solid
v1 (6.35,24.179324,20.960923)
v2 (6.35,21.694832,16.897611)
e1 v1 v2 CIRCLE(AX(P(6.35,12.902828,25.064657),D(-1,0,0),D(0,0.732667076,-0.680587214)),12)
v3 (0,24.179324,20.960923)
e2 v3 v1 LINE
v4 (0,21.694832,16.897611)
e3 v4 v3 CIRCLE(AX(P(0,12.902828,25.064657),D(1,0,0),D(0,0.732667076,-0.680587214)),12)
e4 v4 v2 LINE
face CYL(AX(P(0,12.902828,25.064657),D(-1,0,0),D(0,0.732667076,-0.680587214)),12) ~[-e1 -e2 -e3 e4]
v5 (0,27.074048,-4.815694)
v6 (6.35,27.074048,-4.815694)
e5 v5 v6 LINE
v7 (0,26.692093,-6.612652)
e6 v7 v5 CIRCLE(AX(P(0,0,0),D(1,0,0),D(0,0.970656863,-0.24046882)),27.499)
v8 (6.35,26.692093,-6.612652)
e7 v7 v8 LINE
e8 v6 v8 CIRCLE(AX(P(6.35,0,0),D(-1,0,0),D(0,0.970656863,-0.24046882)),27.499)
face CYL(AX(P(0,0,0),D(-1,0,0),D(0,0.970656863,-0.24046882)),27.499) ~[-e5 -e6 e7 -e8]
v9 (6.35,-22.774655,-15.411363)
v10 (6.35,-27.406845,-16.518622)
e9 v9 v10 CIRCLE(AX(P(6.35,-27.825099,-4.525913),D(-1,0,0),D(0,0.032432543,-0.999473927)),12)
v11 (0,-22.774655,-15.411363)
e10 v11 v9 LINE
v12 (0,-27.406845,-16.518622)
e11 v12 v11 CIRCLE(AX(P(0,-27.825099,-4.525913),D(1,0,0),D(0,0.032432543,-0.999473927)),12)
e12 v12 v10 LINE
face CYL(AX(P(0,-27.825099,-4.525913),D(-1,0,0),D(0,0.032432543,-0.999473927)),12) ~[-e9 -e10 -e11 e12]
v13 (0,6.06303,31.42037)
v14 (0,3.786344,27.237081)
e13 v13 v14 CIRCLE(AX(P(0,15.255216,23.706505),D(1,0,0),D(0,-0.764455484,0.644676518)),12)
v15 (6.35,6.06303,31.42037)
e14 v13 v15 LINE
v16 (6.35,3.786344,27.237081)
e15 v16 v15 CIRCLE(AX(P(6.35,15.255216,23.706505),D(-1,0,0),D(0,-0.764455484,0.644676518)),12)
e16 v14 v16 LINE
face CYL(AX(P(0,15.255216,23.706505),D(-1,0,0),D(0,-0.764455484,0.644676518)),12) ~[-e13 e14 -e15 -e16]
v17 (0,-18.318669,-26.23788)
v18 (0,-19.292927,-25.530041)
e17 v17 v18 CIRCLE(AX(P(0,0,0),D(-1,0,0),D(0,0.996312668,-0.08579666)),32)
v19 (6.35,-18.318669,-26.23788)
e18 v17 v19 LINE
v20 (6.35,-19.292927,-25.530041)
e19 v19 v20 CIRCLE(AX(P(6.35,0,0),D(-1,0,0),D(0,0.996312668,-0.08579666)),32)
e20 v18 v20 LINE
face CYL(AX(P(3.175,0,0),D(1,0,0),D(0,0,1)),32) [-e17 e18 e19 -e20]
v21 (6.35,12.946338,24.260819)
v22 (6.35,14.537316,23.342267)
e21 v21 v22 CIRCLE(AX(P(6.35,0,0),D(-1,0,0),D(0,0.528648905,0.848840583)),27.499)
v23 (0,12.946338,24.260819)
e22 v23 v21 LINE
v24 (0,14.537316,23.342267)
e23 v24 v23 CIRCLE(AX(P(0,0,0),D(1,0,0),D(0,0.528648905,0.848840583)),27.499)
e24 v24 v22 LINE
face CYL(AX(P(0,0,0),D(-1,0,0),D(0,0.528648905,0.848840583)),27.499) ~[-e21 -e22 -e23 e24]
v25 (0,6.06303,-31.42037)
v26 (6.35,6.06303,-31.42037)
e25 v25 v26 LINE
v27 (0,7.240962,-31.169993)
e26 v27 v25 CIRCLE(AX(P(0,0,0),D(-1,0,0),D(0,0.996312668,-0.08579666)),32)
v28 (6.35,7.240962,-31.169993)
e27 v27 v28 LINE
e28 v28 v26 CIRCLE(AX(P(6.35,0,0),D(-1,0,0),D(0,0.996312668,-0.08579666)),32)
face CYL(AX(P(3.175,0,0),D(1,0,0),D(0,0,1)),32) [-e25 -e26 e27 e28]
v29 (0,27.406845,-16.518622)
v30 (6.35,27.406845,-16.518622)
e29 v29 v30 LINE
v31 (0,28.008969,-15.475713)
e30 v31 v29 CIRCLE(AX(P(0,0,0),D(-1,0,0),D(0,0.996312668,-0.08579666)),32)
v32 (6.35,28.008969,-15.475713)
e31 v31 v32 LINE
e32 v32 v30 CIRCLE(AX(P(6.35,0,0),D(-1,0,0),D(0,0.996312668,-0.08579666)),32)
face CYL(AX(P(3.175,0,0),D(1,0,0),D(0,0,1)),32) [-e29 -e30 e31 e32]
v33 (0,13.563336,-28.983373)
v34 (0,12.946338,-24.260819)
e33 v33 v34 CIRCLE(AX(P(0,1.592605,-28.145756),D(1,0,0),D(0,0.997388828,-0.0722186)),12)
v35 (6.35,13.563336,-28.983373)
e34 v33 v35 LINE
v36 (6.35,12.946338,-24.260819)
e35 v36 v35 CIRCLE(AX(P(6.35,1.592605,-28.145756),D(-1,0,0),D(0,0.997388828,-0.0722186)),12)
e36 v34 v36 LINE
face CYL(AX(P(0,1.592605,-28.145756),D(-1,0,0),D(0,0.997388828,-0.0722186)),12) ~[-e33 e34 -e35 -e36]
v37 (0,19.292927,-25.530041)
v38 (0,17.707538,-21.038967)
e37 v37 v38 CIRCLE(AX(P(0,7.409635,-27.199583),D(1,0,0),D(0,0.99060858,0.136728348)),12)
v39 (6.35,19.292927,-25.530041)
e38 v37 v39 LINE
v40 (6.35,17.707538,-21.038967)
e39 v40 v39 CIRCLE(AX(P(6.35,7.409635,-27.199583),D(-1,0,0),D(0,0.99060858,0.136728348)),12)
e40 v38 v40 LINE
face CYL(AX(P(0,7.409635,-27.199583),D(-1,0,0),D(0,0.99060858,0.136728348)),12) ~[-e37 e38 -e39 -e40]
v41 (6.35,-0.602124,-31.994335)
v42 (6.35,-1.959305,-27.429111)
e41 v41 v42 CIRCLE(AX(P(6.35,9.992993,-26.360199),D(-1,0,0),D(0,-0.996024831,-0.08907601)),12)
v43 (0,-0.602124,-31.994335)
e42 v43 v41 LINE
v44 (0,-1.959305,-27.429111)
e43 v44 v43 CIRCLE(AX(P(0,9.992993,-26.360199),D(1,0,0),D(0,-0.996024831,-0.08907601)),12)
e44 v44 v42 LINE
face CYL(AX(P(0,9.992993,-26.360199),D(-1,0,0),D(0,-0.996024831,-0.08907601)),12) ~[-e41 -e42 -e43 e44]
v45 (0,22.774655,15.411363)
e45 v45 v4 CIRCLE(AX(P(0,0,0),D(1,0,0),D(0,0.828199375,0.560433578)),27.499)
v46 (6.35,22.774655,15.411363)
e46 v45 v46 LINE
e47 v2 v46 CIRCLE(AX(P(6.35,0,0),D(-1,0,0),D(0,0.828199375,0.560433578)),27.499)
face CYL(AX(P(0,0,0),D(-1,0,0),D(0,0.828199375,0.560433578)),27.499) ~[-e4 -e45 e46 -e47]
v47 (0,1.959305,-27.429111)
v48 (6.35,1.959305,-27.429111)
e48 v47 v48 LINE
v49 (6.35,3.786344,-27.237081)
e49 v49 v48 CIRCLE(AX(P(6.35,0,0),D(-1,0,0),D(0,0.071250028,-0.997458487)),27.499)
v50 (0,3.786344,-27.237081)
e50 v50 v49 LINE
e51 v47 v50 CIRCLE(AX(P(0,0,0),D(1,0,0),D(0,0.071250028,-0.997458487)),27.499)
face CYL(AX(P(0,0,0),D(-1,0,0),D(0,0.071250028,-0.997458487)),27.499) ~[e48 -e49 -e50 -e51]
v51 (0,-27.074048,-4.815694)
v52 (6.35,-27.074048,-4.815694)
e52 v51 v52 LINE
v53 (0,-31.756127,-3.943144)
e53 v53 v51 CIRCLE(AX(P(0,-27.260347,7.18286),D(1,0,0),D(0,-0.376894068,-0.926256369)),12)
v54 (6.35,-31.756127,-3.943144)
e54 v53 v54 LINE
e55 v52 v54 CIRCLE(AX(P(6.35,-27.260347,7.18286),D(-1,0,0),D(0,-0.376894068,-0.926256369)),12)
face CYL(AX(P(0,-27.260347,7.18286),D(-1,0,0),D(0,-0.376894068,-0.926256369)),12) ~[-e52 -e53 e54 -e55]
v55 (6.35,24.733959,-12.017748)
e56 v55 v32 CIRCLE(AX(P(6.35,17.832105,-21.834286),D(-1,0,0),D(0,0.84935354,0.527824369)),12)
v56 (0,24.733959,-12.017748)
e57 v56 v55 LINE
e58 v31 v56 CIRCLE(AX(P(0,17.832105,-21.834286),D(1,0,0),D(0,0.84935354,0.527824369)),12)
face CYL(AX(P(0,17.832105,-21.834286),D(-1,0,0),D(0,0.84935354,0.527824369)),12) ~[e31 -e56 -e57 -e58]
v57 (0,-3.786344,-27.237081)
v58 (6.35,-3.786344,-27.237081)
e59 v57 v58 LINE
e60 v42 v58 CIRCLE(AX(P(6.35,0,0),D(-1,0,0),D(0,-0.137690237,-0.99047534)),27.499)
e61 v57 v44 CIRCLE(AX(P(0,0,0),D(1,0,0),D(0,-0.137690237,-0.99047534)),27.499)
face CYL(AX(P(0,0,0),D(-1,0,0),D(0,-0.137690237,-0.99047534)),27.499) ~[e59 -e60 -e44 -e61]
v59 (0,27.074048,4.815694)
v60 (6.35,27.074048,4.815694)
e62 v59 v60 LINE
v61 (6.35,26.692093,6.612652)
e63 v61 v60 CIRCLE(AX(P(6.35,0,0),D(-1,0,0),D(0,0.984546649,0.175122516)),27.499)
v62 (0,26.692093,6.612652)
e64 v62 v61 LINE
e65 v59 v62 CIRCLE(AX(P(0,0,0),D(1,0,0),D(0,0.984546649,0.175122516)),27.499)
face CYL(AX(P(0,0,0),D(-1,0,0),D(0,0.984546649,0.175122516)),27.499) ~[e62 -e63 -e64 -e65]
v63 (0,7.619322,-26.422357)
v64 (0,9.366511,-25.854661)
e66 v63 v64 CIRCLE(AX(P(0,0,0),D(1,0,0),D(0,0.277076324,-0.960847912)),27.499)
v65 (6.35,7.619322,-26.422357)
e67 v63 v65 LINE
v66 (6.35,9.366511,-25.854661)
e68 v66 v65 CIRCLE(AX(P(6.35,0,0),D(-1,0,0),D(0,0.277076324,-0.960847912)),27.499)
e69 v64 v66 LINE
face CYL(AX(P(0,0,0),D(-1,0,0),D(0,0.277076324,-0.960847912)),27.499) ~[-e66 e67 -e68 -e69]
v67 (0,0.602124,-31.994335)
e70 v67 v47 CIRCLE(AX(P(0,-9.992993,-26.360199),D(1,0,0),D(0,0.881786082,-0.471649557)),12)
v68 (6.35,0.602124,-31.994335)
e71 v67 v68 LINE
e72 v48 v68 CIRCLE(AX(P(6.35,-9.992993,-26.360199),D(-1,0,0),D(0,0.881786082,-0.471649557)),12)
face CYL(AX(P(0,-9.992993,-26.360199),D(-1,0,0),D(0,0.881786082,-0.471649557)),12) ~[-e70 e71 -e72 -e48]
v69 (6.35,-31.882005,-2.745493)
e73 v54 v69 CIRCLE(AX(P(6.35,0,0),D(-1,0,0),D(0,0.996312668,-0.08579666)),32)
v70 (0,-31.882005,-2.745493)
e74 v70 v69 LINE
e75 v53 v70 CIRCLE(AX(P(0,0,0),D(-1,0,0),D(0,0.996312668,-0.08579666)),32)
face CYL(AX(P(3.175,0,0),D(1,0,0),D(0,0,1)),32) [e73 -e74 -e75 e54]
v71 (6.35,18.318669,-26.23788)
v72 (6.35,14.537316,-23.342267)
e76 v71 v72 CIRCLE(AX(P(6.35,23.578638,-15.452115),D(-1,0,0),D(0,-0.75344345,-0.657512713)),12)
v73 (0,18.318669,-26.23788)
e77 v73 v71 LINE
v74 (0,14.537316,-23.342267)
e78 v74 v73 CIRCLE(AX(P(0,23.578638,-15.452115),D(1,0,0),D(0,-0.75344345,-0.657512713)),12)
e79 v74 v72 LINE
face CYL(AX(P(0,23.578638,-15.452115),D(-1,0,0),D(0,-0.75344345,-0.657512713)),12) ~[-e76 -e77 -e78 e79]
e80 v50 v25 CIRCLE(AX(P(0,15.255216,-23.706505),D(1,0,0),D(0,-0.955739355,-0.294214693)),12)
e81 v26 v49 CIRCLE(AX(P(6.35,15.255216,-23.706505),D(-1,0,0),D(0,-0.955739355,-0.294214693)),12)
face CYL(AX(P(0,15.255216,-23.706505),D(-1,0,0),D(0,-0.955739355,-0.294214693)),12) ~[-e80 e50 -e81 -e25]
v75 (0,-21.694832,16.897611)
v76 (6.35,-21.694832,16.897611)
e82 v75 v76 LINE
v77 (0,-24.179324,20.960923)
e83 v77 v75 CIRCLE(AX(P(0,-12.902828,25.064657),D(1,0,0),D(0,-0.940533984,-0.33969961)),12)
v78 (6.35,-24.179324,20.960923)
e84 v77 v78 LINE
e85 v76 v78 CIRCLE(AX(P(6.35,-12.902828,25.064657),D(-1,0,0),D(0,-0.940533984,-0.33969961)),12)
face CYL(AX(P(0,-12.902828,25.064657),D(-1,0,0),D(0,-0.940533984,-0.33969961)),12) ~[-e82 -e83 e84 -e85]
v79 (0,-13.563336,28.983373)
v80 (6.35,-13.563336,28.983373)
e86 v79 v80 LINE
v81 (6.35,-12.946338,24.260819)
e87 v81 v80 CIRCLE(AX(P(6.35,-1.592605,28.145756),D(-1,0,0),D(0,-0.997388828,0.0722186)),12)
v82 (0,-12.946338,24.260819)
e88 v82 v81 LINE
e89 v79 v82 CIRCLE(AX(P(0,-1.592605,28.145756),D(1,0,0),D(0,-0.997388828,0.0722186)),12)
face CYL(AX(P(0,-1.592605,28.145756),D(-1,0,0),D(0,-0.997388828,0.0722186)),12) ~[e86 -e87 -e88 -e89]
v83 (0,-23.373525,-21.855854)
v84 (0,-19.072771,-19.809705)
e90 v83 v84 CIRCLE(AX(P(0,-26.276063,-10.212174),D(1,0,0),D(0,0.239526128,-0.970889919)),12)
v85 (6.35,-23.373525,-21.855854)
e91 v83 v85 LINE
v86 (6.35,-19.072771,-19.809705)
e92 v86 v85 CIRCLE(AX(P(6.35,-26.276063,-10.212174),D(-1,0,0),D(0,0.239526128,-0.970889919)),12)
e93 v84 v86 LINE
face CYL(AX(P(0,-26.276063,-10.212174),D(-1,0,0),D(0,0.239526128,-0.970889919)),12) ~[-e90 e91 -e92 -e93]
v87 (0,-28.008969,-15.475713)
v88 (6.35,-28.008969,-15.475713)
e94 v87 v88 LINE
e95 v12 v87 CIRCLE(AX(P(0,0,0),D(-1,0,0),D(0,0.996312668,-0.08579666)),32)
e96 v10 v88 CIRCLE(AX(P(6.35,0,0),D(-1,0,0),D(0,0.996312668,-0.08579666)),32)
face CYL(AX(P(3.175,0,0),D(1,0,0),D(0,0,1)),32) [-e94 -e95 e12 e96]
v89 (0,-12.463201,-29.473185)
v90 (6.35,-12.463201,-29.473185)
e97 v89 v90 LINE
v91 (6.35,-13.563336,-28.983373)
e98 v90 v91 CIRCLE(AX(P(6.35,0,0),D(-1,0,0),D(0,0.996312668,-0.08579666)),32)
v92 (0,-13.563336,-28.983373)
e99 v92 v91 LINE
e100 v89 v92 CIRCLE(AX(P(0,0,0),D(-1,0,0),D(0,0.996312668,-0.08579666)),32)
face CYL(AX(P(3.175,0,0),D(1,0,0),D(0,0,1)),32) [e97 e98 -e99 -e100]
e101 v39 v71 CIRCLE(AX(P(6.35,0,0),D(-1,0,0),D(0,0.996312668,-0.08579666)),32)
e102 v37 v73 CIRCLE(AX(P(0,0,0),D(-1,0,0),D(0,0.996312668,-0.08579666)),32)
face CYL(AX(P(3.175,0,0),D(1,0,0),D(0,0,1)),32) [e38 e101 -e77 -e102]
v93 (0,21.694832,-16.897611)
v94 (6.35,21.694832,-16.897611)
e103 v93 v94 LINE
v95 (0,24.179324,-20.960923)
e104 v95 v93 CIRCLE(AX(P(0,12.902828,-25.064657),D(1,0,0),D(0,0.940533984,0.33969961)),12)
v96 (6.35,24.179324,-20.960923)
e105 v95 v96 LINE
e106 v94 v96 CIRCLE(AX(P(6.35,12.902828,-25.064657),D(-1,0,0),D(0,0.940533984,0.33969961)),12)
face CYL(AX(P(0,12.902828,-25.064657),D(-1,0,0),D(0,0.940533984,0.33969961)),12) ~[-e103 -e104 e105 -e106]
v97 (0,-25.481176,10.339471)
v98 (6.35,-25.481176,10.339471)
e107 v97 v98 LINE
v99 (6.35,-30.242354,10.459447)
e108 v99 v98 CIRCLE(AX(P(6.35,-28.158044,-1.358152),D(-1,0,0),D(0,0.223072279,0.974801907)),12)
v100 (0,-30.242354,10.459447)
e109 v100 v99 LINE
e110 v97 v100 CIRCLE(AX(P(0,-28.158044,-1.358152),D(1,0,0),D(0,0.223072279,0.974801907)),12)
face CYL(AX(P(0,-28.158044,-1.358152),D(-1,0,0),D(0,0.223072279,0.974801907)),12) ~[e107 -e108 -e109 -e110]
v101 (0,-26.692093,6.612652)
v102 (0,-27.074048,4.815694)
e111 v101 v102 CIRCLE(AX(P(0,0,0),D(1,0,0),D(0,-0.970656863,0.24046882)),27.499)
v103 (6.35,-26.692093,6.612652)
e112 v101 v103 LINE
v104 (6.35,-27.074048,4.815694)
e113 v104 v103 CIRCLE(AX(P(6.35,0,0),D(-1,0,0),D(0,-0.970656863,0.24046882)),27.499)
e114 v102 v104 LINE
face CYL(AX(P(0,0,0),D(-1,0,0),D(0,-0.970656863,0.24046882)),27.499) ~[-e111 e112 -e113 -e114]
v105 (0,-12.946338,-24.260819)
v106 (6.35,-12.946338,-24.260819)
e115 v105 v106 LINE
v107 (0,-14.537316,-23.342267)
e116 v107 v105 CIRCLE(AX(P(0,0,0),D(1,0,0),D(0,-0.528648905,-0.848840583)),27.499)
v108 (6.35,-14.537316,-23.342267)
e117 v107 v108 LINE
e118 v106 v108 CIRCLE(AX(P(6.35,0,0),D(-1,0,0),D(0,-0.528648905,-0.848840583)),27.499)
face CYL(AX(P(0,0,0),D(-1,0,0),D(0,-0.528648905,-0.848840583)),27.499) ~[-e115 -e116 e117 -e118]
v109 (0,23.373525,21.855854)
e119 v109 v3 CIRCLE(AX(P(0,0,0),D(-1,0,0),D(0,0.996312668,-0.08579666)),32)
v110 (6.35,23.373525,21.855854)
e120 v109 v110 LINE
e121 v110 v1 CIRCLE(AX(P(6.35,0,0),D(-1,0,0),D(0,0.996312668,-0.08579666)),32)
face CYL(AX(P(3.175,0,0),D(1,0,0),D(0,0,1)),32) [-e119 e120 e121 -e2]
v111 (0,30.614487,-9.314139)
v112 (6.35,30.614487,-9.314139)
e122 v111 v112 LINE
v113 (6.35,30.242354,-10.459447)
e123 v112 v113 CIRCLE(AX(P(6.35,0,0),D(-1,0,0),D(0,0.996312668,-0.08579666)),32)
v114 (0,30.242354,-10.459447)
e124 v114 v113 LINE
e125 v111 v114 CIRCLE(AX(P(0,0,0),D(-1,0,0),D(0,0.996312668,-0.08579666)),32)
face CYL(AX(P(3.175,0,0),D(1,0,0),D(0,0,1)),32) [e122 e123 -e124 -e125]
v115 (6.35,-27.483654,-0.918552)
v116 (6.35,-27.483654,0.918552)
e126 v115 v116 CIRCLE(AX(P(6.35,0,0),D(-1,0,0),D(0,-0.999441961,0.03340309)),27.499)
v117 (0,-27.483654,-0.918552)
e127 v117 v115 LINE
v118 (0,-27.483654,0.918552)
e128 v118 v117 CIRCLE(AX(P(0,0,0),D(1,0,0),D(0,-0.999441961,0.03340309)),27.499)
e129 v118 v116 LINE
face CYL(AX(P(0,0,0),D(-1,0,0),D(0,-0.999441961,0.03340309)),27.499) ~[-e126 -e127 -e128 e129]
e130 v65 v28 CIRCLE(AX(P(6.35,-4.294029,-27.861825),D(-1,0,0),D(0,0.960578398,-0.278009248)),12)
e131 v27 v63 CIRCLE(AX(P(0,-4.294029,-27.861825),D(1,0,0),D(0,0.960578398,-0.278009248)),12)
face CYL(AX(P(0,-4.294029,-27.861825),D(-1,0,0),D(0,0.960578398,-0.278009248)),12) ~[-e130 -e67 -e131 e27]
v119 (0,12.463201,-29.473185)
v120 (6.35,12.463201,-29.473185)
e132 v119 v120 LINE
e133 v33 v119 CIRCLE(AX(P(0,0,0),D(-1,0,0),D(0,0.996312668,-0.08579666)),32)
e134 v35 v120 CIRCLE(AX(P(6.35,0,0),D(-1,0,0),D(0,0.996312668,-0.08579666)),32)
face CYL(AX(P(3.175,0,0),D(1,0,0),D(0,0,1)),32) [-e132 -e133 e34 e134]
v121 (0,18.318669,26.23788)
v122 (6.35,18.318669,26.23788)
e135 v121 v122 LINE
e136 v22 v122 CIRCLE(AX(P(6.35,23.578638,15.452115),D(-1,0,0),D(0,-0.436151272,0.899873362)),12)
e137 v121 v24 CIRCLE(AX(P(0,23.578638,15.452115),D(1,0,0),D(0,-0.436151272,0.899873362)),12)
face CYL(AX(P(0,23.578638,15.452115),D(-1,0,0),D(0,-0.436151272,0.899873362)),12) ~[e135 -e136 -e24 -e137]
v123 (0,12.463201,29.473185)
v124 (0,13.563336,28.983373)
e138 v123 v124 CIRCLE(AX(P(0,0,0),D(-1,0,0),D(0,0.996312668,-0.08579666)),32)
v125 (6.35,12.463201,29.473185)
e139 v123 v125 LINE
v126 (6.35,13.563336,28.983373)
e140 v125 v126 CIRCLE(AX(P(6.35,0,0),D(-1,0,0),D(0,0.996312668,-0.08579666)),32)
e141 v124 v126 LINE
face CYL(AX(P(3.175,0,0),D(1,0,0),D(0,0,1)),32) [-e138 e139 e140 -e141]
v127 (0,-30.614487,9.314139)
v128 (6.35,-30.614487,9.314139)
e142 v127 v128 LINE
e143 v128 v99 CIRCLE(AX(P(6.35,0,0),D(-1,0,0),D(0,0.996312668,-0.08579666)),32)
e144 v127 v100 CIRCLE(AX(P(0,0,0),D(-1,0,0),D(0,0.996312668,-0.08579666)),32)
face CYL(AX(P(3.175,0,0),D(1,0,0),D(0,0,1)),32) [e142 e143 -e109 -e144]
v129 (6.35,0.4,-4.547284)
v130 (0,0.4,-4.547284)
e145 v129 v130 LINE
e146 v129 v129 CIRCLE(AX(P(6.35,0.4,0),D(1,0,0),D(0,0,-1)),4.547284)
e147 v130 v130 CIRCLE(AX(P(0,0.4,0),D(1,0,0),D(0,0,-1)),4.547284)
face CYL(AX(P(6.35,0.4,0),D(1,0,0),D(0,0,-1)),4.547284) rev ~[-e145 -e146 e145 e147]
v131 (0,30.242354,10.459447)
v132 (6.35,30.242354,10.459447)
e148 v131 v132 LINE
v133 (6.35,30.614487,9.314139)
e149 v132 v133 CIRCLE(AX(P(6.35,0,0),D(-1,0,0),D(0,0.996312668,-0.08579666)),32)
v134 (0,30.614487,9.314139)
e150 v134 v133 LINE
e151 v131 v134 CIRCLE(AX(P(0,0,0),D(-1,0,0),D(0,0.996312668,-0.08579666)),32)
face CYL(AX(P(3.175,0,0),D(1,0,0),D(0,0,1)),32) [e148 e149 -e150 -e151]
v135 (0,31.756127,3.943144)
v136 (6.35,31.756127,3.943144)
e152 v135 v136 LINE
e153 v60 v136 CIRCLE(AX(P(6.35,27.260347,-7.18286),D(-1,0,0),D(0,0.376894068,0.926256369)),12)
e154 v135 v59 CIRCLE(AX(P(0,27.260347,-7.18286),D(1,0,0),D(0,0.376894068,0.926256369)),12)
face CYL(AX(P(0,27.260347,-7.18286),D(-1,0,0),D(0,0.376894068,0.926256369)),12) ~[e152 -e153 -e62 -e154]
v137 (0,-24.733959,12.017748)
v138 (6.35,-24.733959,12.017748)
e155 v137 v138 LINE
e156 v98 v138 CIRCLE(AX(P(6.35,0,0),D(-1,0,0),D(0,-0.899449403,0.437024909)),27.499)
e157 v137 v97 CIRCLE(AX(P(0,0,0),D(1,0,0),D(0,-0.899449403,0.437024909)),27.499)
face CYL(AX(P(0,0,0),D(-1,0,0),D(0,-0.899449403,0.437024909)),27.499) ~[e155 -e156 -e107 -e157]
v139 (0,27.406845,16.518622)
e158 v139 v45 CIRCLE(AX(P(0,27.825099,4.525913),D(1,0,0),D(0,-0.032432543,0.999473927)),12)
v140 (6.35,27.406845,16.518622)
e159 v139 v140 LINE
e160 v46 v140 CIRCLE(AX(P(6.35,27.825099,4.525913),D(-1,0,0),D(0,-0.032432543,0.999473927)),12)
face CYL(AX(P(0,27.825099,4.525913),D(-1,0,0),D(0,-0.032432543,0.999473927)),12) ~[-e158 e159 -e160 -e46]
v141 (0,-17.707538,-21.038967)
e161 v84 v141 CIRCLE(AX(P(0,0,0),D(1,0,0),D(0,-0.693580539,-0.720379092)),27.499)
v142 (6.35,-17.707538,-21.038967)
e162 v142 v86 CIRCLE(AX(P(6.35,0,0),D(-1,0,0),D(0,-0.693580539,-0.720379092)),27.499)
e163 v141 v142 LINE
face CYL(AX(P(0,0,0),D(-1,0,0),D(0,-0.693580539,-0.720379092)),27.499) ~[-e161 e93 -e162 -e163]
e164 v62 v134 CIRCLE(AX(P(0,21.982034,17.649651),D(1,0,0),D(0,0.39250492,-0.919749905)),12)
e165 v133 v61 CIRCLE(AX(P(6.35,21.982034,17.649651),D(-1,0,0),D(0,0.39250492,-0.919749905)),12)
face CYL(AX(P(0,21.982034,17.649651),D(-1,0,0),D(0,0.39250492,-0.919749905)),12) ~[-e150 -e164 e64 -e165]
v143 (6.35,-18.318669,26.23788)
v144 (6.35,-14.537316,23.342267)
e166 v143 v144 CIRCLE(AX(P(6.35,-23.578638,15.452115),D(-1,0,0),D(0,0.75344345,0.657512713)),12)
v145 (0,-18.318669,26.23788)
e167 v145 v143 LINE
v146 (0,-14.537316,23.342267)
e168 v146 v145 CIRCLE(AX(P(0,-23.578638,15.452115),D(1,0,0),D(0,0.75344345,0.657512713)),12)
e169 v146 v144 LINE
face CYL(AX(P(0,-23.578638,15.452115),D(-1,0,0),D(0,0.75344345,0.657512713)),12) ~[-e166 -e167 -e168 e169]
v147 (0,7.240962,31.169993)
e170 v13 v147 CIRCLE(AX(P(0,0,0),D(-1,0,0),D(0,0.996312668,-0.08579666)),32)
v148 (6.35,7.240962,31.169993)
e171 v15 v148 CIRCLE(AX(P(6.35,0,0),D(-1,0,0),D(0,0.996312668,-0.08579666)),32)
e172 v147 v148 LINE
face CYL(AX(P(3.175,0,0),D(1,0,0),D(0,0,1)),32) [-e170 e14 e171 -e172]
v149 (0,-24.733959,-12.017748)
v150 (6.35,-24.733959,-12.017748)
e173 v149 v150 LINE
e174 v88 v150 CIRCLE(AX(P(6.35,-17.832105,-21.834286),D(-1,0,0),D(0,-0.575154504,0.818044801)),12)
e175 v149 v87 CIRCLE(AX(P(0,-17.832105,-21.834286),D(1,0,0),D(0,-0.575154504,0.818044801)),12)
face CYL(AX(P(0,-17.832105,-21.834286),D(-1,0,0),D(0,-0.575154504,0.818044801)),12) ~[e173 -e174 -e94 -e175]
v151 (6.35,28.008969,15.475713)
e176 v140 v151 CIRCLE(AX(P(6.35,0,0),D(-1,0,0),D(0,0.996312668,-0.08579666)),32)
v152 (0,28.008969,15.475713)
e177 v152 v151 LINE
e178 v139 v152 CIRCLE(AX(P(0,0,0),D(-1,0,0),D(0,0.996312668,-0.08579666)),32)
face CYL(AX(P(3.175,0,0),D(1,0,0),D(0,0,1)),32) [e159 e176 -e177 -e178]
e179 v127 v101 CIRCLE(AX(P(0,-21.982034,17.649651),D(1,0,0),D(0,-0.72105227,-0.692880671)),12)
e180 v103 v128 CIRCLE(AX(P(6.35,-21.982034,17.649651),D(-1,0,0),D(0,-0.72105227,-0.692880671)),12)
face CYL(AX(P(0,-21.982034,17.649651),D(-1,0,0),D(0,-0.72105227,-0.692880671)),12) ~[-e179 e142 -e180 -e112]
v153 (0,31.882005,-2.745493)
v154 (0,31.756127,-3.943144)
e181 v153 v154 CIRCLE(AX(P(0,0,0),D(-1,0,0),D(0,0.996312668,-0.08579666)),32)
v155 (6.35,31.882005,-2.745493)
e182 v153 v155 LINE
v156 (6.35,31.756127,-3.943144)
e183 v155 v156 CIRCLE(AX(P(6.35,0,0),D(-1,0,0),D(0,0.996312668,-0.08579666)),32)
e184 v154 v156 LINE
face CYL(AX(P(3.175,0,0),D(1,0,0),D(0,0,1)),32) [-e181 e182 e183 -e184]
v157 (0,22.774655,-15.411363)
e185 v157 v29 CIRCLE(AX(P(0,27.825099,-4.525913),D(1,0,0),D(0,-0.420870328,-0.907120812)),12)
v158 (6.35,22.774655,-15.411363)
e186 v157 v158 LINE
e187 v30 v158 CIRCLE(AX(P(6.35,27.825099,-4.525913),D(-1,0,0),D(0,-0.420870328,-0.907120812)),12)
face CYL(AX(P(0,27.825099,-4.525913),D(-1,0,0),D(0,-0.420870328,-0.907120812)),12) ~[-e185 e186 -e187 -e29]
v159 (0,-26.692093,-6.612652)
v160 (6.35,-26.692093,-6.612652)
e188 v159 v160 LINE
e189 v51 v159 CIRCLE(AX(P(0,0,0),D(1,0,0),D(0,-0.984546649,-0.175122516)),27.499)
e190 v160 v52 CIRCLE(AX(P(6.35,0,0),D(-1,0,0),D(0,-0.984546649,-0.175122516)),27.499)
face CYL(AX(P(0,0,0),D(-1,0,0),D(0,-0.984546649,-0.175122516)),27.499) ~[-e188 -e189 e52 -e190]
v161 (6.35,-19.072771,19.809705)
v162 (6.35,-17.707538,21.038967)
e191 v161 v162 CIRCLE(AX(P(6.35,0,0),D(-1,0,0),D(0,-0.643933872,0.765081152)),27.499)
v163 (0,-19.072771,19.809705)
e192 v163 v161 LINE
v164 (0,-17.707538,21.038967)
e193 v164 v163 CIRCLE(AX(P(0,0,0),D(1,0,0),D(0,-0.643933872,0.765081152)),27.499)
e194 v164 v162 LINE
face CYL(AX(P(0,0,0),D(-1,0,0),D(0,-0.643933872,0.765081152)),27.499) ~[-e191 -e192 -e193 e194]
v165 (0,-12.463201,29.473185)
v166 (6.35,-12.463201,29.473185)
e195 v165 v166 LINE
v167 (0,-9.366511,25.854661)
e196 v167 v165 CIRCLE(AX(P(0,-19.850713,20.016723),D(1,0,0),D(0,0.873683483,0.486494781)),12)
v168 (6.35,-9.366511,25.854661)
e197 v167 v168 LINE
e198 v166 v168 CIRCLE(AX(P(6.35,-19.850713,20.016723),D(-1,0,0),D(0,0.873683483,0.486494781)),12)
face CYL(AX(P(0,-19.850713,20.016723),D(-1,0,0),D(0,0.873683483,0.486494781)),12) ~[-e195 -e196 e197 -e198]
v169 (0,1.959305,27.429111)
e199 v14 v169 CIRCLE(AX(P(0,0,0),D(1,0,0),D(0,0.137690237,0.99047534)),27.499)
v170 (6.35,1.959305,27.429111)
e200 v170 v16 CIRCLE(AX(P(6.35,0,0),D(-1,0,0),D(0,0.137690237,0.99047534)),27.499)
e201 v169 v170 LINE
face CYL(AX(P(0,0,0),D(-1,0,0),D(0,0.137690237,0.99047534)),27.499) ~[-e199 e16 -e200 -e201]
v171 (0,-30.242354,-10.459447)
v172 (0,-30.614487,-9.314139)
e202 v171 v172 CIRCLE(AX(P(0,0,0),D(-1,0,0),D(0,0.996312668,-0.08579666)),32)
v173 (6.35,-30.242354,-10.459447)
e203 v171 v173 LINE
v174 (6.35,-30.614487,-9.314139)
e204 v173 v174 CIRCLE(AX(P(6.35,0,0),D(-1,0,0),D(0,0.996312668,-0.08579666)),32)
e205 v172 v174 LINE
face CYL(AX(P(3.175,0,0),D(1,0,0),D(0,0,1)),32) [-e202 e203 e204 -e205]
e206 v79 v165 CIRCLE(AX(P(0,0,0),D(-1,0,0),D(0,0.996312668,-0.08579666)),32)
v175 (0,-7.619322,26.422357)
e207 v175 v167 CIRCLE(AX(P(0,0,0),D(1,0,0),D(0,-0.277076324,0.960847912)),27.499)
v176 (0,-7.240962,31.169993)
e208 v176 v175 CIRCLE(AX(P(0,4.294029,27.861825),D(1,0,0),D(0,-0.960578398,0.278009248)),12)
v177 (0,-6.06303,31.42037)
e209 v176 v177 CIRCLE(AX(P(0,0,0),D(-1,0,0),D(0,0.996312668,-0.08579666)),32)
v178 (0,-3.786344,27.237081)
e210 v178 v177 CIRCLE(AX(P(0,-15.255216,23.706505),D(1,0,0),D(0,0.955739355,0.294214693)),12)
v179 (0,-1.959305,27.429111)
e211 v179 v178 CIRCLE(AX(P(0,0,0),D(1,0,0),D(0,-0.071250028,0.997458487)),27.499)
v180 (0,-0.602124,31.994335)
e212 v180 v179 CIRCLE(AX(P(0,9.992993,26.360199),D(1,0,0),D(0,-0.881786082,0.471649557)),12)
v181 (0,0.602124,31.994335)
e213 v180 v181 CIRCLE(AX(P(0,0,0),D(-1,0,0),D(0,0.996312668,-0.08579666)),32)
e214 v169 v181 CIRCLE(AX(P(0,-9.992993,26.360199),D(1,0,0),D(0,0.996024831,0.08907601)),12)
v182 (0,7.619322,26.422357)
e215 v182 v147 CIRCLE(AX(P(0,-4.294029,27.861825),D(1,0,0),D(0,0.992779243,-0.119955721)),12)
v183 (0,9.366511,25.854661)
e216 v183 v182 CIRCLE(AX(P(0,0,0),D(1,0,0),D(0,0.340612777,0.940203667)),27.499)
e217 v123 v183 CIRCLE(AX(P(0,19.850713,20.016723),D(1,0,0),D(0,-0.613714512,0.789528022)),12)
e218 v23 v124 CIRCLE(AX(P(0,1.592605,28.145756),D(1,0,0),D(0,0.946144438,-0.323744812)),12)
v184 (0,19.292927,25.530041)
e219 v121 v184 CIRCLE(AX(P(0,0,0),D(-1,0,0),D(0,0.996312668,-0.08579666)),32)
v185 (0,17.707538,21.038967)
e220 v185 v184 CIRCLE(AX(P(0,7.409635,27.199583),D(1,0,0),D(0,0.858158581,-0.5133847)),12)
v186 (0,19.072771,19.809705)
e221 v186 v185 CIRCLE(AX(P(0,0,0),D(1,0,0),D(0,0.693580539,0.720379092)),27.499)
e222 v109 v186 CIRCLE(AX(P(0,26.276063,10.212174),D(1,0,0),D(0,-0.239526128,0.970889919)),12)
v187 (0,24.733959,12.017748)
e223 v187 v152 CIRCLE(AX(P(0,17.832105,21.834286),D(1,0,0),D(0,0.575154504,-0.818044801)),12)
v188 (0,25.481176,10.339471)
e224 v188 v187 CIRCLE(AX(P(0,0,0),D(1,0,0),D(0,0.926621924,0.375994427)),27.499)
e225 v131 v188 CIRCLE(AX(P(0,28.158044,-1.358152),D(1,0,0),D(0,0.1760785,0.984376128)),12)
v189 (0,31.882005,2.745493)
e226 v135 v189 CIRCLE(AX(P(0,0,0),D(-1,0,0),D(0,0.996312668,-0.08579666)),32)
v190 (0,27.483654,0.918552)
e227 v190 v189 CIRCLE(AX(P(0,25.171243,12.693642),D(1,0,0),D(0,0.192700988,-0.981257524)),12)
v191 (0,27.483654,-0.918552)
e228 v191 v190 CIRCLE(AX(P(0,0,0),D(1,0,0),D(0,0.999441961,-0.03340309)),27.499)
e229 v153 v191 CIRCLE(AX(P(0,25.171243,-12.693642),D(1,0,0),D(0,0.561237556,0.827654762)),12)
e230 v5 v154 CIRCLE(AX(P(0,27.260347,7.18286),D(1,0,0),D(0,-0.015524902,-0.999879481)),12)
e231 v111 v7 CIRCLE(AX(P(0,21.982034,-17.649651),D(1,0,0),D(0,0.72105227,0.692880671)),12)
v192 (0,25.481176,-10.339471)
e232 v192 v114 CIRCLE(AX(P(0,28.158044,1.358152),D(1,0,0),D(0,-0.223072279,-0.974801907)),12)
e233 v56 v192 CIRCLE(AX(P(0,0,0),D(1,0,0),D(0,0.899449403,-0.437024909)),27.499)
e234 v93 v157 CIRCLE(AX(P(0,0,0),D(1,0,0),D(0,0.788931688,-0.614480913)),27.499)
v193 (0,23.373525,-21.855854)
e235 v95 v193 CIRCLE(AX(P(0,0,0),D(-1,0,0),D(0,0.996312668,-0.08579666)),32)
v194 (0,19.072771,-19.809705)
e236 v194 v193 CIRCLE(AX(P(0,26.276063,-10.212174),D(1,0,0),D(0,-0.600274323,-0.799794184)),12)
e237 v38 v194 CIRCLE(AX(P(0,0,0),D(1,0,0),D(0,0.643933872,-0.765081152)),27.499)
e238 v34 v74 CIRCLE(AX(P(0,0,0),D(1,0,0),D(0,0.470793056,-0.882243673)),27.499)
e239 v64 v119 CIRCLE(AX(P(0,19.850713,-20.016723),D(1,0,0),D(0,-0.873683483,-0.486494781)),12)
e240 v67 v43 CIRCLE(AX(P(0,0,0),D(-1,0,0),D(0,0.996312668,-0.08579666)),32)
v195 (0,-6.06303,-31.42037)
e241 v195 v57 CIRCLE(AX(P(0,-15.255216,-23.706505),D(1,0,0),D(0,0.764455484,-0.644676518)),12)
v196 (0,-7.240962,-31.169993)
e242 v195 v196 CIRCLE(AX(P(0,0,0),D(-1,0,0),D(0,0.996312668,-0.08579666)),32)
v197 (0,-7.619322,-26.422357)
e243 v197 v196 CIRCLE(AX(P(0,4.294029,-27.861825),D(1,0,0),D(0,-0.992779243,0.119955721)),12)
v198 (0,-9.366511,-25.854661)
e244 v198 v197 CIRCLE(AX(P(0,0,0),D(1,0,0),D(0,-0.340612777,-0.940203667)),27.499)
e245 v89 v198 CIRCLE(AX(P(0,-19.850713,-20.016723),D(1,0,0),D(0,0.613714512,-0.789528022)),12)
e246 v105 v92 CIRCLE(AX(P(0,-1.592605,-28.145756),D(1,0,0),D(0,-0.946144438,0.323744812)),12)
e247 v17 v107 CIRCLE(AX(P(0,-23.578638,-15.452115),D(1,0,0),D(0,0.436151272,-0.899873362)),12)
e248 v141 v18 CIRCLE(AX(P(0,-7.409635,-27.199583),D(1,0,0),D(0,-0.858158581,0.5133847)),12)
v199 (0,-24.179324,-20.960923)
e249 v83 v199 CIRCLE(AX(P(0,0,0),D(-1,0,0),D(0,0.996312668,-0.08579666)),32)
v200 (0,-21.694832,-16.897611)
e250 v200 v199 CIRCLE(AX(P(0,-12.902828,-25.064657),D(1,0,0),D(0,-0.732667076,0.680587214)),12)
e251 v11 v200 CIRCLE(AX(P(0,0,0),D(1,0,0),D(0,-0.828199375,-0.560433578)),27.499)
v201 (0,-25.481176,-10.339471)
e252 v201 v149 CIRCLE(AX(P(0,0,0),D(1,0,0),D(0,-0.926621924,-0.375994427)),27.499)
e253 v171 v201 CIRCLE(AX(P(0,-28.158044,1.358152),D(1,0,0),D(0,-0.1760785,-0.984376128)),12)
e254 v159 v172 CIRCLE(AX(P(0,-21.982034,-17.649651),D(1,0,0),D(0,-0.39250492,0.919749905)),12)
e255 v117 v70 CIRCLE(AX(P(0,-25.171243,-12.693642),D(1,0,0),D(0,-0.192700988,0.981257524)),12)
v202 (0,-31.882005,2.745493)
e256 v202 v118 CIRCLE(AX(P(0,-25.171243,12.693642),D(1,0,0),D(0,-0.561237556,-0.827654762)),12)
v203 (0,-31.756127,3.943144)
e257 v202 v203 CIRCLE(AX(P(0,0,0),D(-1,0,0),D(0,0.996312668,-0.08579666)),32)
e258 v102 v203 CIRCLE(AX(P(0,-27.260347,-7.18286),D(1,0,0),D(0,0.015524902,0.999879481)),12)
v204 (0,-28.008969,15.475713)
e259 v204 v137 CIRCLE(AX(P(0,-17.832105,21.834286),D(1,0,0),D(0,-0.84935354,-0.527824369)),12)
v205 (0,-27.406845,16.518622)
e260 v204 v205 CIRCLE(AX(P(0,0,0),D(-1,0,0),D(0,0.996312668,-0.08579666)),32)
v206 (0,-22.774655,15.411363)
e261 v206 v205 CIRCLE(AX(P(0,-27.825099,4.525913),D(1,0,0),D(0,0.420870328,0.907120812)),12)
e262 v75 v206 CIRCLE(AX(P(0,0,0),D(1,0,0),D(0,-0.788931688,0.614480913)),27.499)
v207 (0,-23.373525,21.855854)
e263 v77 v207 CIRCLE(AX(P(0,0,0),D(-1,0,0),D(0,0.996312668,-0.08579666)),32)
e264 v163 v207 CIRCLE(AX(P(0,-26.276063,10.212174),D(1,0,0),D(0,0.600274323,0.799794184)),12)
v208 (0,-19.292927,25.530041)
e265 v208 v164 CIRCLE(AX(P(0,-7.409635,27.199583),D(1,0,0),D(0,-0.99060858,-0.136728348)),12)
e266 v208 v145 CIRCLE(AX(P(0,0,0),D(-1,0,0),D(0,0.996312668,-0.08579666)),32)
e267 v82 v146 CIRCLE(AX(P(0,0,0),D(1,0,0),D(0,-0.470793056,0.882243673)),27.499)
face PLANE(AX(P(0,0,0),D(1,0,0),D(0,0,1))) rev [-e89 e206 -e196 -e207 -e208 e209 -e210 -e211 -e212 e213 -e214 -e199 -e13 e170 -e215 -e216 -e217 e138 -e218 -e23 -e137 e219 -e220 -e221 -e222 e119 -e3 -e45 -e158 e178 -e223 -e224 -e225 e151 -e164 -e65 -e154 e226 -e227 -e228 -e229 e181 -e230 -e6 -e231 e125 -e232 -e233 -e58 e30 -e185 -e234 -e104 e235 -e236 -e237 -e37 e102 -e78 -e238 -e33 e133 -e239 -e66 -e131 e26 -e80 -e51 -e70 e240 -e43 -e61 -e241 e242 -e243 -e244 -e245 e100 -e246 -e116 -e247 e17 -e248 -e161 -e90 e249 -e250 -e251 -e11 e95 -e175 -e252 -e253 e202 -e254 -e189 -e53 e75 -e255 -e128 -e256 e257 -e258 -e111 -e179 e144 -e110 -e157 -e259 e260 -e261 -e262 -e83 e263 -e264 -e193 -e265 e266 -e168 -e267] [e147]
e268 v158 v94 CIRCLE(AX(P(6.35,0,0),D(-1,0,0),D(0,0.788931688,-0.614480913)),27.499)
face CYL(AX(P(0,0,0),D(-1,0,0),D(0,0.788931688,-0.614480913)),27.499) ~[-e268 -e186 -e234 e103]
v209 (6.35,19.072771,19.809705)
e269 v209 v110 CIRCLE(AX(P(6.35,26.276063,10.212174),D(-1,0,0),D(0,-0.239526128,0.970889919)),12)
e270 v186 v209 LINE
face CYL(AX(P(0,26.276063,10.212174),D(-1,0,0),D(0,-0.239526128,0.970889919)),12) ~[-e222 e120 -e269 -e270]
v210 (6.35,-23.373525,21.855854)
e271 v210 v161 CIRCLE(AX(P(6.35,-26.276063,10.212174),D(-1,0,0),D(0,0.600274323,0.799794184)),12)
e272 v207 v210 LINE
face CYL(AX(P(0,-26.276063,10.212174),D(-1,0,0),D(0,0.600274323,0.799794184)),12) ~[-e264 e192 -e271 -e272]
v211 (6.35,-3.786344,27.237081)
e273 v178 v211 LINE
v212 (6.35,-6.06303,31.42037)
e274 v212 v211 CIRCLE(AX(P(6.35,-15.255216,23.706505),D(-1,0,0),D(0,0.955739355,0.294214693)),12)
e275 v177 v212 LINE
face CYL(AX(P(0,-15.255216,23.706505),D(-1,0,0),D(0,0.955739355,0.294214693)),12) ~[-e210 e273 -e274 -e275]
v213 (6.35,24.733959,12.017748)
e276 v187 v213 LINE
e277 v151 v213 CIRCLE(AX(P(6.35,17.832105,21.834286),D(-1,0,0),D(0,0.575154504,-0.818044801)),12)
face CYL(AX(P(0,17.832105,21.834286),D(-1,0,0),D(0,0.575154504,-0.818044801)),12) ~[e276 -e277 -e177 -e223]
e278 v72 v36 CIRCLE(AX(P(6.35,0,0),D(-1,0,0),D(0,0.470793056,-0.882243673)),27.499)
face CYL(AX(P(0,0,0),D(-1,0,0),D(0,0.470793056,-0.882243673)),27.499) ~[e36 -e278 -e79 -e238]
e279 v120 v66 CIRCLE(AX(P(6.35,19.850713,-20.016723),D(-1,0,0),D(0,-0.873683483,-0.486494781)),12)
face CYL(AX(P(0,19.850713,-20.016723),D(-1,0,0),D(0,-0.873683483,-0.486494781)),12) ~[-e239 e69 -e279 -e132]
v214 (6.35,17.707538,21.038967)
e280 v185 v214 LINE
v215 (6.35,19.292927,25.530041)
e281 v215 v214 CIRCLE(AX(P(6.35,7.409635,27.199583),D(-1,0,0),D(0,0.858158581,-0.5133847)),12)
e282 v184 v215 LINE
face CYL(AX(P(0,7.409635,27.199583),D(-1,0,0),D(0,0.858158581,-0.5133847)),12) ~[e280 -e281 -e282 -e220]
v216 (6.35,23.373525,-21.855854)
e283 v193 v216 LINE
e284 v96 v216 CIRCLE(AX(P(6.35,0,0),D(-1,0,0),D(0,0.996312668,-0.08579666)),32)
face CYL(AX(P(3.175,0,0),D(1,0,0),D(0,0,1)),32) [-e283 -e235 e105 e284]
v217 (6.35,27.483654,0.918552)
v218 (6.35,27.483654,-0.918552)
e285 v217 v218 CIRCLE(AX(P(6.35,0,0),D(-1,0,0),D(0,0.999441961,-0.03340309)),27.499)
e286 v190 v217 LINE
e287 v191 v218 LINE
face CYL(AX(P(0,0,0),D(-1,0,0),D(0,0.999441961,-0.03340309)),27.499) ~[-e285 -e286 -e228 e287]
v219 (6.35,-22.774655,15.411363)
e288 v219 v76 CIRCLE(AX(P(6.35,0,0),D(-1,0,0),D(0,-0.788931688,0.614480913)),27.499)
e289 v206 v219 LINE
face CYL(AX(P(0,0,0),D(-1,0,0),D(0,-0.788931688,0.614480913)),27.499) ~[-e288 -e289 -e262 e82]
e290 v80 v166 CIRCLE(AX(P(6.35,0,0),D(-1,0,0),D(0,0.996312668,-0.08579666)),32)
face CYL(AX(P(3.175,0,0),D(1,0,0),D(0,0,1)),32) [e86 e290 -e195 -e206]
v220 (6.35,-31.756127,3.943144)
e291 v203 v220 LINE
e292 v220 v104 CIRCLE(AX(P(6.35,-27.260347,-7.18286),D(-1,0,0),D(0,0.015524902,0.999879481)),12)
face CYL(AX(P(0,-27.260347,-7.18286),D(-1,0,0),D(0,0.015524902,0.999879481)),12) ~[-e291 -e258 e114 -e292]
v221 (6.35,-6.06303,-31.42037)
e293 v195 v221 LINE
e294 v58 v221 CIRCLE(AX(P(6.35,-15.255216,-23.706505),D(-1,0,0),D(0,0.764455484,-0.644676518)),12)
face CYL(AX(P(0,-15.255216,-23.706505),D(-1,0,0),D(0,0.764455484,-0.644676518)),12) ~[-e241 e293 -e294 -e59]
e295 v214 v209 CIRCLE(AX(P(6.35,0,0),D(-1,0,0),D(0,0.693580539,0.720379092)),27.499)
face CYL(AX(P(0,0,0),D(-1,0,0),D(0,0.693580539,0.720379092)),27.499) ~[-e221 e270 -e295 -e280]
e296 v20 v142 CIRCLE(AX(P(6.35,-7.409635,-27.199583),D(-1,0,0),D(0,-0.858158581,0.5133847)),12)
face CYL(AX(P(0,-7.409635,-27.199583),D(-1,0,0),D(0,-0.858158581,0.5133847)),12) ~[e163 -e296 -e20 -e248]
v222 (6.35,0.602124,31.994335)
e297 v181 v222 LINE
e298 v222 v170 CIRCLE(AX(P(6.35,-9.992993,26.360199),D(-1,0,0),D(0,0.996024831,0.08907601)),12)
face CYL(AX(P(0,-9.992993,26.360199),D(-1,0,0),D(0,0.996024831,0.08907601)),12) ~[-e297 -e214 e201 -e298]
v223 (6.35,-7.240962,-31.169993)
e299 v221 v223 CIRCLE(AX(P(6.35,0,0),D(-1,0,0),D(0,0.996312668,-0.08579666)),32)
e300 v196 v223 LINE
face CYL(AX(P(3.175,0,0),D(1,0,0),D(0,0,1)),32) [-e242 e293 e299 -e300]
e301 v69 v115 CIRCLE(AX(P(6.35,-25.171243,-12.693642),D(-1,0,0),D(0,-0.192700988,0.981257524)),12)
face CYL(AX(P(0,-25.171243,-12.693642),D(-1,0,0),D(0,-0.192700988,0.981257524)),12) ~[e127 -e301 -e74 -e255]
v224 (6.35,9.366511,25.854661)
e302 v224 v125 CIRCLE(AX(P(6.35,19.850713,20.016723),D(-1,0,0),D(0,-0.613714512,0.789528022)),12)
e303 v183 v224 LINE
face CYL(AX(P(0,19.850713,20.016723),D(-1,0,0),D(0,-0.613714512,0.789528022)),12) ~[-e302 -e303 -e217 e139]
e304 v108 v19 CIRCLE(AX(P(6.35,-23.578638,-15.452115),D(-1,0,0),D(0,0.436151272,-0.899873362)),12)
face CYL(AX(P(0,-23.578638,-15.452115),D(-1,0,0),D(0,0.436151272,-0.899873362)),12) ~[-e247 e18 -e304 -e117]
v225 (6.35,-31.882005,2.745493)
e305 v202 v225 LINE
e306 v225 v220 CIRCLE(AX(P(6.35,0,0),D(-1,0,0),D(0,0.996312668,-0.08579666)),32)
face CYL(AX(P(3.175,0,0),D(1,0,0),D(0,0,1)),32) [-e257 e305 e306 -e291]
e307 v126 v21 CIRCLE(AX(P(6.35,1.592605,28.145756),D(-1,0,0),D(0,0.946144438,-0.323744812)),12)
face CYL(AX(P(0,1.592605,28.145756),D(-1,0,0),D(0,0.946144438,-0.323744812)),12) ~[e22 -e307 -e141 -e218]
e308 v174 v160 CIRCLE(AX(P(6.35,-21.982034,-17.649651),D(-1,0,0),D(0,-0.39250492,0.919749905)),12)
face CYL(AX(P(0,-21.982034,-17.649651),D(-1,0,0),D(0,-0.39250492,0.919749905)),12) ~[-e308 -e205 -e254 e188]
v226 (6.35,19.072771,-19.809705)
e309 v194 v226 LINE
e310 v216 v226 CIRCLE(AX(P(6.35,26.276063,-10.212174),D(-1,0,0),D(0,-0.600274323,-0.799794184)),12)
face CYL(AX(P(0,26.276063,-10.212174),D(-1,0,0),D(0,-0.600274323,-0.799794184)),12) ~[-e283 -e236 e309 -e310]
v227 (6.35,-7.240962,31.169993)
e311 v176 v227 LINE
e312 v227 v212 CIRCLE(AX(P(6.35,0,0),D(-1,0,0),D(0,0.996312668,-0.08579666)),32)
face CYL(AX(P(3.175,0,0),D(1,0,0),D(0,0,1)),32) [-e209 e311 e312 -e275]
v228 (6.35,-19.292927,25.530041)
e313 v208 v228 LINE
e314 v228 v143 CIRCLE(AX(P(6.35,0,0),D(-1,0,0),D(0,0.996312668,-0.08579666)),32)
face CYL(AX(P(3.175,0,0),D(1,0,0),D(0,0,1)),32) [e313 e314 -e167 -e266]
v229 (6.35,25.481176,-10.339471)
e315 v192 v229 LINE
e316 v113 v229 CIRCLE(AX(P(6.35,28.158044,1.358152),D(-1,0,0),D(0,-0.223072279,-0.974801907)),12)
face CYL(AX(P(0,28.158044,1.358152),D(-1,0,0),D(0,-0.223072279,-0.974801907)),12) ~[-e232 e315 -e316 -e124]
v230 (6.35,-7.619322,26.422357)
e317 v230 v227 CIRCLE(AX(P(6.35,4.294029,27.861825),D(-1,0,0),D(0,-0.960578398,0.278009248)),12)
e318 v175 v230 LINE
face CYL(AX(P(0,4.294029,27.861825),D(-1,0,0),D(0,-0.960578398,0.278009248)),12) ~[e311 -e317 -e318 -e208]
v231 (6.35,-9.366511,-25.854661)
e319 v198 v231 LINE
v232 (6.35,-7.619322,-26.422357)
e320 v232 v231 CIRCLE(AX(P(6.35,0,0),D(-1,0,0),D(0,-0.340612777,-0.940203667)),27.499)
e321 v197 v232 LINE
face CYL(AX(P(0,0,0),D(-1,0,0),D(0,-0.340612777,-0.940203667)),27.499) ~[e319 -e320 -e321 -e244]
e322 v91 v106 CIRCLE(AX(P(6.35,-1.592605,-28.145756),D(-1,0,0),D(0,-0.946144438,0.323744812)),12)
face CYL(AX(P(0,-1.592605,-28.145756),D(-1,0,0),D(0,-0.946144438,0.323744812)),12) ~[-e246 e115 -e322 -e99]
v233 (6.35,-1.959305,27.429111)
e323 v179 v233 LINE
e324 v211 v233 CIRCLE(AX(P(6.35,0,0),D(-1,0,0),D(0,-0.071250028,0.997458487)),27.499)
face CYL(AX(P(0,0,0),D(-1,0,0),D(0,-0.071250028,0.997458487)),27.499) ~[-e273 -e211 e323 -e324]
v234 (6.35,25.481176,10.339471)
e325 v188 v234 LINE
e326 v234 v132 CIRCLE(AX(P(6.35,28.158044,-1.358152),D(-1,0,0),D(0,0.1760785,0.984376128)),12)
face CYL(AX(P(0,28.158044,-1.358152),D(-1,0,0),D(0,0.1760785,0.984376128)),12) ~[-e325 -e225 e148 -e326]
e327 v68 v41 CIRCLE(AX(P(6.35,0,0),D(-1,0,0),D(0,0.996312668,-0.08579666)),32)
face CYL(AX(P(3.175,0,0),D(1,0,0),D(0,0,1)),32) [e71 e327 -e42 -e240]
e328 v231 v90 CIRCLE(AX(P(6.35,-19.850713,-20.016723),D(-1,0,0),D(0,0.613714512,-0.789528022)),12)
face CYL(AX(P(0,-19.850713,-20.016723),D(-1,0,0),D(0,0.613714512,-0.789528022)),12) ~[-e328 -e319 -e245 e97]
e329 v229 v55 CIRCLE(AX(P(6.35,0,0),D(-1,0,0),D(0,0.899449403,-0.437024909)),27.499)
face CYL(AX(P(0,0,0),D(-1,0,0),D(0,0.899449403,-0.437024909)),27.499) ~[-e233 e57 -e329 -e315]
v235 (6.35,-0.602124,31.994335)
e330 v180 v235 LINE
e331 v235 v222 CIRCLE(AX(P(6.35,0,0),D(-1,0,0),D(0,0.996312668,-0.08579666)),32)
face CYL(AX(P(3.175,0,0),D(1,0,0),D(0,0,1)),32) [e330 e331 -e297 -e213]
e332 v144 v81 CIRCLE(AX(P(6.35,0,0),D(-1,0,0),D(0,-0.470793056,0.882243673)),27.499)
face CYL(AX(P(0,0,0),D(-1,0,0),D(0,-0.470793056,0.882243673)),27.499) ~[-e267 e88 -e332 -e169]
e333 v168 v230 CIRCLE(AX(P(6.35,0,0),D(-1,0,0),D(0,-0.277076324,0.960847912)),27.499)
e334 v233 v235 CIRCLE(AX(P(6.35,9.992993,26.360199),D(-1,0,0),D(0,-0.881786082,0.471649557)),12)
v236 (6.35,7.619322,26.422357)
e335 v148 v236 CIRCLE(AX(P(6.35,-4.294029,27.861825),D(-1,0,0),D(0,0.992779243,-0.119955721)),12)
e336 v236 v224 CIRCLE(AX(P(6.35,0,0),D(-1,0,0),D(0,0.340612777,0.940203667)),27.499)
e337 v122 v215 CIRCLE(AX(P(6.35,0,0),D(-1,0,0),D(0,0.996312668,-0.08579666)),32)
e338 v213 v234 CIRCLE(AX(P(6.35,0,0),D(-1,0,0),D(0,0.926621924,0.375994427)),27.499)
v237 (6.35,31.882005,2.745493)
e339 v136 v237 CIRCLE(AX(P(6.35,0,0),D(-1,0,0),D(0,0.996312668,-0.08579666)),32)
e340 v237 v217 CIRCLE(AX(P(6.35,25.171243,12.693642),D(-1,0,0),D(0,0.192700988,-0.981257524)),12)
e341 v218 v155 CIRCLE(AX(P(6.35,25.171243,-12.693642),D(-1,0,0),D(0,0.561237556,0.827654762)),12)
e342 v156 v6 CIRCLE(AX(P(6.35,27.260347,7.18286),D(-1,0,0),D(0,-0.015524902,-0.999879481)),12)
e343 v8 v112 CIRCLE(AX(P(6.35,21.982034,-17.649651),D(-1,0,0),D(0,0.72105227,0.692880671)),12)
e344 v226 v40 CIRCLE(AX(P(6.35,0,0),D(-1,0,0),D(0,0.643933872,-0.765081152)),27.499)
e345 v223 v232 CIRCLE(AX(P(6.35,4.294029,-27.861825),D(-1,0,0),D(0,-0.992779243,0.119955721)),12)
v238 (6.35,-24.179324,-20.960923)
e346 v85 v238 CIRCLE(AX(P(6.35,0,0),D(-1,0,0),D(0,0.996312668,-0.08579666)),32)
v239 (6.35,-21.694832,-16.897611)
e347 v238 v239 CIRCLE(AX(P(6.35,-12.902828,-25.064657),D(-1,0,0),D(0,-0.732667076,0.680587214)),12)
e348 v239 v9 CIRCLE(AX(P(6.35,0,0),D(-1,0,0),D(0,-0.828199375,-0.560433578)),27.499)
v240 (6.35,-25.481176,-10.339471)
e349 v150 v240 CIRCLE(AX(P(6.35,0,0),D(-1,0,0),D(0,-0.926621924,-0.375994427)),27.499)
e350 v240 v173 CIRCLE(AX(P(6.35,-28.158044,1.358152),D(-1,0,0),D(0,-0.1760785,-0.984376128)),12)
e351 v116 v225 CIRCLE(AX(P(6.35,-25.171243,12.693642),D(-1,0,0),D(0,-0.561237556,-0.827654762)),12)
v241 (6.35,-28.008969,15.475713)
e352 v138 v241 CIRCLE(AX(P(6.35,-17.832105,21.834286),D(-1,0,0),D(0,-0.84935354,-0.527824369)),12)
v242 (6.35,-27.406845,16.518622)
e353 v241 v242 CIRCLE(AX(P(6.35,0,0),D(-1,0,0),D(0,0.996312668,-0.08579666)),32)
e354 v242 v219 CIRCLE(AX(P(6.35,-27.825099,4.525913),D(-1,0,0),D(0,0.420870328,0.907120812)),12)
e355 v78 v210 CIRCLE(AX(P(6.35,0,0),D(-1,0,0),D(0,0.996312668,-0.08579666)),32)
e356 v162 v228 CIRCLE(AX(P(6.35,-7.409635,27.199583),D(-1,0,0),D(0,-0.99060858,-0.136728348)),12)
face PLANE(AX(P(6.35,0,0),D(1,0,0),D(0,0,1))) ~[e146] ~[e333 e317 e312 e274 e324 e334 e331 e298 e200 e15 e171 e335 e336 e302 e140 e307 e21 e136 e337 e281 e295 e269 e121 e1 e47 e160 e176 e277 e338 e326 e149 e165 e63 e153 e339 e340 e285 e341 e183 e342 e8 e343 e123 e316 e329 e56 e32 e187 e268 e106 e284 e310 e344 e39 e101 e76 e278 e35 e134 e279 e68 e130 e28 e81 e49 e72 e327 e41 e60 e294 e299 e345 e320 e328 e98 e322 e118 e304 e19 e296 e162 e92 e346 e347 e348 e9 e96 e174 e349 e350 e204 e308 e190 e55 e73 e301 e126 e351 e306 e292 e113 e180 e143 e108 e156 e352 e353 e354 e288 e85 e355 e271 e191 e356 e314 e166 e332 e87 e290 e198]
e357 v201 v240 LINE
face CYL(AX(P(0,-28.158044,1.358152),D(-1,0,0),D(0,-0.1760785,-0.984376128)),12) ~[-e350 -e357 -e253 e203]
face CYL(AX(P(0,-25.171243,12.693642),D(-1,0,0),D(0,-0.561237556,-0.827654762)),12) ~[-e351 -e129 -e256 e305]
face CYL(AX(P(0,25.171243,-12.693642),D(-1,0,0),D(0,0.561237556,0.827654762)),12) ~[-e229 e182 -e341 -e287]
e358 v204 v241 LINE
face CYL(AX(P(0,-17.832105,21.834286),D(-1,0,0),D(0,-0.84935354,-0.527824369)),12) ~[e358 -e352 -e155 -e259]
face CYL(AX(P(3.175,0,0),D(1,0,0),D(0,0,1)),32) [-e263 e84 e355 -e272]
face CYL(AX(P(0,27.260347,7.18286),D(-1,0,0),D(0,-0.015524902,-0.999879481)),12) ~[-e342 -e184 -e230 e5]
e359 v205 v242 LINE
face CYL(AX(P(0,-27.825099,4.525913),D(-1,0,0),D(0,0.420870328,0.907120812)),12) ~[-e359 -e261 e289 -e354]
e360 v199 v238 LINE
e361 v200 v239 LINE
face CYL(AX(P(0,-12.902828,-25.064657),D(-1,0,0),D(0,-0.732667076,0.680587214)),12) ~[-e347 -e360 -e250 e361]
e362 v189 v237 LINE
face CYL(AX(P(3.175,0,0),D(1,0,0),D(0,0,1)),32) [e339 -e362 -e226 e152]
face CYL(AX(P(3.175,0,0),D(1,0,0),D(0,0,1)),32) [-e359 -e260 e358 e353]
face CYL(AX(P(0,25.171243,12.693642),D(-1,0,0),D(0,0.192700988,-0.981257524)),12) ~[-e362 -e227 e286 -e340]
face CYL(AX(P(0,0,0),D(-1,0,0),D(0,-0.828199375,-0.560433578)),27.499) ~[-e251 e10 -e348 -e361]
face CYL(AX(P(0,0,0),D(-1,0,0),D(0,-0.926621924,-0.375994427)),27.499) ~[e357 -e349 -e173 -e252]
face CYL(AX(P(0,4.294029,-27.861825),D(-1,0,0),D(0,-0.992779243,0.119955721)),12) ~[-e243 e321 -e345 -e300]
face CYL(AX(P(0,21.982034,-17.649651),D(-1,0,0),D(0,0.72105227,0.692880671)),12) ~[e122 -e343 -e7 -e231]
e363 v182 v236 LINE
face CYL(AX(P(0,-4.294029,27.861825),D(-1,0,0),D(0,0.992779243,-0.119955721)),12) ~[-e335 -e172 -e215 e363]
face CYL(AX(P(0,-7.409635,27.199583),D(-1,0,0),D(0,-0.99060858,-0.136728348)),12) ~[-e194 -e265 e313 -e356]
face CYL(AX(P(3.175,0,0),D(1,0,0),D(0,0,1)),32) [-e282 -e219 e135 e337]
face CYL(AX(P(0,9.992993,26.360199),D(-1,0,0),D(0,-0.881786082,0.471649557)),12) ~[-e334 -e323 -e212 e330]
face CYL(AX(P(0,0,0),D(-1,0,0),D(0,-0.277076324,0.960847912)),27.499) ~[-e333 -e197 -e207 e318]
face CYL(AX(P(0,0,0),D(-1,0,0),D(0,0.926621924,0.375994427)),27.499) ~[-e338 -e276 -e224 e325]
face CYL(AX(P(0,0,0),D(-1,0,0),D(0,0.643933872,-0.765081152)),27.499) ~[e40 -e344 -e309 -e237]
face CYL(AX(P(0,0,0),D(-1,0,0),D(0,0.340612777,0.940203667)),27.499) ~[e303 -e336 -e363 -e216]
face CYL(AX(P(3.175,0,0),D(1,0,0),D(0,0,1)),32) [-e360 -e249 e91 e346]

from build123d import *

# Parameters (mm, degrees)
BASPROSKE_W        = 6.35
BASPROSKE_H        = 32
TOOTHCUT_DEPTH     = 46.698167359
TEETHCUTS_COUNT    = 30
TEETHCUTS_ANGLE    = 348
BORSKE_R           = 0.4
BORE_DEPTH         = 50.0000508
SKETCH1_R          = 4.547284268
CUT_EXTRUDE1_DEPTH = 10


with BuildPart() as part:
    # BasProSke → Base-Revolve (revolve)
    with BuildSketch(Plane(origin=(0, 0, 0), x_dir=(1, 0, 0), z_dir=(0, 1, 0)), mode=Mode.PRIVATE) as base_revolve_sk:
        with Locations((3.175, 16)):
            Rectangle(BASPROSKE_W, BASPROSKE_H)
    revolve(base_revolve_sk.sketch.rotate(Axis((-10, 0, 0), (1, 0, 0)), 180), axis=Axis((-10, 0, 0), (1, 0, 0)))

    # TooCutSke → ToothCut (cut, through all)
    with BuildSketch(Plane(origin=(0, 0, 0), x_dir=(0, 0, -1), z_dir=(1, 0, 0))):
        with BuildLine():
            ThreePointArc((0.918551563, 27.483654488), (0, 27.499), (-0.918551563, 27.483654488))
            ThreePointArc((-0.918551563, 27.483654488), (-1.617208176, 29.787801627), (-2.761784709, 31.906093311))
            ThreePointArc((-2.761784709, 31.906093311), (0, 32.0254), (2.761784709, 31.906093311))
            ThreePointArc((2.761784709, 31.906093311), (1.617208176, 29.787801627), (0.918551563, 27.483654488))
        make_face()
    toothcut = extrude(amount=TOOTHCUT_DEPTH, mode=Mode.SUBTRACT)

    # TeethCuts: ToothCut ×30 about axis
    teethcuts_axis = Axis((-10, 0, 0), (1, 0, 0))
    for i in range(1, TEETHCUTS_COUNT):
        add(toothcut.rotate(teethcuts_axis, i * TEETHCUTS_ANGLE / (TEETHCUTS_COUNT - 1)), mode=Mode.SUBTRACT)

    # BorSke → Bore (cut, symmetric)
    with BuildSketch(Plane(origin=(0, 0, 0), x_dir=(0, 0, -1), z_dir=(1, 0, 0))):
        with Locations(Location((0, 0, 0), (0, 0, 180))):
            Circle(BORSKE_R)
    extrude(amount=BORE_DEPTH, both=True, mode=Mode.SUBTRACT)

    # Sketch1 → Cut-Extrude1 (cut)
    with BuildSketch(Plane(origin=(6.35, 0, 0), x_dir=(0, 0, -1), z_dir=(1, 0, 0))):
        with Locations((0, 0.4)):
            Circle(SKETCH1_R)
    extrude(amount=-CUT_EXTRUDE1_DEPTH, mode=Mode.SUBTRACT)


solid = part.part
